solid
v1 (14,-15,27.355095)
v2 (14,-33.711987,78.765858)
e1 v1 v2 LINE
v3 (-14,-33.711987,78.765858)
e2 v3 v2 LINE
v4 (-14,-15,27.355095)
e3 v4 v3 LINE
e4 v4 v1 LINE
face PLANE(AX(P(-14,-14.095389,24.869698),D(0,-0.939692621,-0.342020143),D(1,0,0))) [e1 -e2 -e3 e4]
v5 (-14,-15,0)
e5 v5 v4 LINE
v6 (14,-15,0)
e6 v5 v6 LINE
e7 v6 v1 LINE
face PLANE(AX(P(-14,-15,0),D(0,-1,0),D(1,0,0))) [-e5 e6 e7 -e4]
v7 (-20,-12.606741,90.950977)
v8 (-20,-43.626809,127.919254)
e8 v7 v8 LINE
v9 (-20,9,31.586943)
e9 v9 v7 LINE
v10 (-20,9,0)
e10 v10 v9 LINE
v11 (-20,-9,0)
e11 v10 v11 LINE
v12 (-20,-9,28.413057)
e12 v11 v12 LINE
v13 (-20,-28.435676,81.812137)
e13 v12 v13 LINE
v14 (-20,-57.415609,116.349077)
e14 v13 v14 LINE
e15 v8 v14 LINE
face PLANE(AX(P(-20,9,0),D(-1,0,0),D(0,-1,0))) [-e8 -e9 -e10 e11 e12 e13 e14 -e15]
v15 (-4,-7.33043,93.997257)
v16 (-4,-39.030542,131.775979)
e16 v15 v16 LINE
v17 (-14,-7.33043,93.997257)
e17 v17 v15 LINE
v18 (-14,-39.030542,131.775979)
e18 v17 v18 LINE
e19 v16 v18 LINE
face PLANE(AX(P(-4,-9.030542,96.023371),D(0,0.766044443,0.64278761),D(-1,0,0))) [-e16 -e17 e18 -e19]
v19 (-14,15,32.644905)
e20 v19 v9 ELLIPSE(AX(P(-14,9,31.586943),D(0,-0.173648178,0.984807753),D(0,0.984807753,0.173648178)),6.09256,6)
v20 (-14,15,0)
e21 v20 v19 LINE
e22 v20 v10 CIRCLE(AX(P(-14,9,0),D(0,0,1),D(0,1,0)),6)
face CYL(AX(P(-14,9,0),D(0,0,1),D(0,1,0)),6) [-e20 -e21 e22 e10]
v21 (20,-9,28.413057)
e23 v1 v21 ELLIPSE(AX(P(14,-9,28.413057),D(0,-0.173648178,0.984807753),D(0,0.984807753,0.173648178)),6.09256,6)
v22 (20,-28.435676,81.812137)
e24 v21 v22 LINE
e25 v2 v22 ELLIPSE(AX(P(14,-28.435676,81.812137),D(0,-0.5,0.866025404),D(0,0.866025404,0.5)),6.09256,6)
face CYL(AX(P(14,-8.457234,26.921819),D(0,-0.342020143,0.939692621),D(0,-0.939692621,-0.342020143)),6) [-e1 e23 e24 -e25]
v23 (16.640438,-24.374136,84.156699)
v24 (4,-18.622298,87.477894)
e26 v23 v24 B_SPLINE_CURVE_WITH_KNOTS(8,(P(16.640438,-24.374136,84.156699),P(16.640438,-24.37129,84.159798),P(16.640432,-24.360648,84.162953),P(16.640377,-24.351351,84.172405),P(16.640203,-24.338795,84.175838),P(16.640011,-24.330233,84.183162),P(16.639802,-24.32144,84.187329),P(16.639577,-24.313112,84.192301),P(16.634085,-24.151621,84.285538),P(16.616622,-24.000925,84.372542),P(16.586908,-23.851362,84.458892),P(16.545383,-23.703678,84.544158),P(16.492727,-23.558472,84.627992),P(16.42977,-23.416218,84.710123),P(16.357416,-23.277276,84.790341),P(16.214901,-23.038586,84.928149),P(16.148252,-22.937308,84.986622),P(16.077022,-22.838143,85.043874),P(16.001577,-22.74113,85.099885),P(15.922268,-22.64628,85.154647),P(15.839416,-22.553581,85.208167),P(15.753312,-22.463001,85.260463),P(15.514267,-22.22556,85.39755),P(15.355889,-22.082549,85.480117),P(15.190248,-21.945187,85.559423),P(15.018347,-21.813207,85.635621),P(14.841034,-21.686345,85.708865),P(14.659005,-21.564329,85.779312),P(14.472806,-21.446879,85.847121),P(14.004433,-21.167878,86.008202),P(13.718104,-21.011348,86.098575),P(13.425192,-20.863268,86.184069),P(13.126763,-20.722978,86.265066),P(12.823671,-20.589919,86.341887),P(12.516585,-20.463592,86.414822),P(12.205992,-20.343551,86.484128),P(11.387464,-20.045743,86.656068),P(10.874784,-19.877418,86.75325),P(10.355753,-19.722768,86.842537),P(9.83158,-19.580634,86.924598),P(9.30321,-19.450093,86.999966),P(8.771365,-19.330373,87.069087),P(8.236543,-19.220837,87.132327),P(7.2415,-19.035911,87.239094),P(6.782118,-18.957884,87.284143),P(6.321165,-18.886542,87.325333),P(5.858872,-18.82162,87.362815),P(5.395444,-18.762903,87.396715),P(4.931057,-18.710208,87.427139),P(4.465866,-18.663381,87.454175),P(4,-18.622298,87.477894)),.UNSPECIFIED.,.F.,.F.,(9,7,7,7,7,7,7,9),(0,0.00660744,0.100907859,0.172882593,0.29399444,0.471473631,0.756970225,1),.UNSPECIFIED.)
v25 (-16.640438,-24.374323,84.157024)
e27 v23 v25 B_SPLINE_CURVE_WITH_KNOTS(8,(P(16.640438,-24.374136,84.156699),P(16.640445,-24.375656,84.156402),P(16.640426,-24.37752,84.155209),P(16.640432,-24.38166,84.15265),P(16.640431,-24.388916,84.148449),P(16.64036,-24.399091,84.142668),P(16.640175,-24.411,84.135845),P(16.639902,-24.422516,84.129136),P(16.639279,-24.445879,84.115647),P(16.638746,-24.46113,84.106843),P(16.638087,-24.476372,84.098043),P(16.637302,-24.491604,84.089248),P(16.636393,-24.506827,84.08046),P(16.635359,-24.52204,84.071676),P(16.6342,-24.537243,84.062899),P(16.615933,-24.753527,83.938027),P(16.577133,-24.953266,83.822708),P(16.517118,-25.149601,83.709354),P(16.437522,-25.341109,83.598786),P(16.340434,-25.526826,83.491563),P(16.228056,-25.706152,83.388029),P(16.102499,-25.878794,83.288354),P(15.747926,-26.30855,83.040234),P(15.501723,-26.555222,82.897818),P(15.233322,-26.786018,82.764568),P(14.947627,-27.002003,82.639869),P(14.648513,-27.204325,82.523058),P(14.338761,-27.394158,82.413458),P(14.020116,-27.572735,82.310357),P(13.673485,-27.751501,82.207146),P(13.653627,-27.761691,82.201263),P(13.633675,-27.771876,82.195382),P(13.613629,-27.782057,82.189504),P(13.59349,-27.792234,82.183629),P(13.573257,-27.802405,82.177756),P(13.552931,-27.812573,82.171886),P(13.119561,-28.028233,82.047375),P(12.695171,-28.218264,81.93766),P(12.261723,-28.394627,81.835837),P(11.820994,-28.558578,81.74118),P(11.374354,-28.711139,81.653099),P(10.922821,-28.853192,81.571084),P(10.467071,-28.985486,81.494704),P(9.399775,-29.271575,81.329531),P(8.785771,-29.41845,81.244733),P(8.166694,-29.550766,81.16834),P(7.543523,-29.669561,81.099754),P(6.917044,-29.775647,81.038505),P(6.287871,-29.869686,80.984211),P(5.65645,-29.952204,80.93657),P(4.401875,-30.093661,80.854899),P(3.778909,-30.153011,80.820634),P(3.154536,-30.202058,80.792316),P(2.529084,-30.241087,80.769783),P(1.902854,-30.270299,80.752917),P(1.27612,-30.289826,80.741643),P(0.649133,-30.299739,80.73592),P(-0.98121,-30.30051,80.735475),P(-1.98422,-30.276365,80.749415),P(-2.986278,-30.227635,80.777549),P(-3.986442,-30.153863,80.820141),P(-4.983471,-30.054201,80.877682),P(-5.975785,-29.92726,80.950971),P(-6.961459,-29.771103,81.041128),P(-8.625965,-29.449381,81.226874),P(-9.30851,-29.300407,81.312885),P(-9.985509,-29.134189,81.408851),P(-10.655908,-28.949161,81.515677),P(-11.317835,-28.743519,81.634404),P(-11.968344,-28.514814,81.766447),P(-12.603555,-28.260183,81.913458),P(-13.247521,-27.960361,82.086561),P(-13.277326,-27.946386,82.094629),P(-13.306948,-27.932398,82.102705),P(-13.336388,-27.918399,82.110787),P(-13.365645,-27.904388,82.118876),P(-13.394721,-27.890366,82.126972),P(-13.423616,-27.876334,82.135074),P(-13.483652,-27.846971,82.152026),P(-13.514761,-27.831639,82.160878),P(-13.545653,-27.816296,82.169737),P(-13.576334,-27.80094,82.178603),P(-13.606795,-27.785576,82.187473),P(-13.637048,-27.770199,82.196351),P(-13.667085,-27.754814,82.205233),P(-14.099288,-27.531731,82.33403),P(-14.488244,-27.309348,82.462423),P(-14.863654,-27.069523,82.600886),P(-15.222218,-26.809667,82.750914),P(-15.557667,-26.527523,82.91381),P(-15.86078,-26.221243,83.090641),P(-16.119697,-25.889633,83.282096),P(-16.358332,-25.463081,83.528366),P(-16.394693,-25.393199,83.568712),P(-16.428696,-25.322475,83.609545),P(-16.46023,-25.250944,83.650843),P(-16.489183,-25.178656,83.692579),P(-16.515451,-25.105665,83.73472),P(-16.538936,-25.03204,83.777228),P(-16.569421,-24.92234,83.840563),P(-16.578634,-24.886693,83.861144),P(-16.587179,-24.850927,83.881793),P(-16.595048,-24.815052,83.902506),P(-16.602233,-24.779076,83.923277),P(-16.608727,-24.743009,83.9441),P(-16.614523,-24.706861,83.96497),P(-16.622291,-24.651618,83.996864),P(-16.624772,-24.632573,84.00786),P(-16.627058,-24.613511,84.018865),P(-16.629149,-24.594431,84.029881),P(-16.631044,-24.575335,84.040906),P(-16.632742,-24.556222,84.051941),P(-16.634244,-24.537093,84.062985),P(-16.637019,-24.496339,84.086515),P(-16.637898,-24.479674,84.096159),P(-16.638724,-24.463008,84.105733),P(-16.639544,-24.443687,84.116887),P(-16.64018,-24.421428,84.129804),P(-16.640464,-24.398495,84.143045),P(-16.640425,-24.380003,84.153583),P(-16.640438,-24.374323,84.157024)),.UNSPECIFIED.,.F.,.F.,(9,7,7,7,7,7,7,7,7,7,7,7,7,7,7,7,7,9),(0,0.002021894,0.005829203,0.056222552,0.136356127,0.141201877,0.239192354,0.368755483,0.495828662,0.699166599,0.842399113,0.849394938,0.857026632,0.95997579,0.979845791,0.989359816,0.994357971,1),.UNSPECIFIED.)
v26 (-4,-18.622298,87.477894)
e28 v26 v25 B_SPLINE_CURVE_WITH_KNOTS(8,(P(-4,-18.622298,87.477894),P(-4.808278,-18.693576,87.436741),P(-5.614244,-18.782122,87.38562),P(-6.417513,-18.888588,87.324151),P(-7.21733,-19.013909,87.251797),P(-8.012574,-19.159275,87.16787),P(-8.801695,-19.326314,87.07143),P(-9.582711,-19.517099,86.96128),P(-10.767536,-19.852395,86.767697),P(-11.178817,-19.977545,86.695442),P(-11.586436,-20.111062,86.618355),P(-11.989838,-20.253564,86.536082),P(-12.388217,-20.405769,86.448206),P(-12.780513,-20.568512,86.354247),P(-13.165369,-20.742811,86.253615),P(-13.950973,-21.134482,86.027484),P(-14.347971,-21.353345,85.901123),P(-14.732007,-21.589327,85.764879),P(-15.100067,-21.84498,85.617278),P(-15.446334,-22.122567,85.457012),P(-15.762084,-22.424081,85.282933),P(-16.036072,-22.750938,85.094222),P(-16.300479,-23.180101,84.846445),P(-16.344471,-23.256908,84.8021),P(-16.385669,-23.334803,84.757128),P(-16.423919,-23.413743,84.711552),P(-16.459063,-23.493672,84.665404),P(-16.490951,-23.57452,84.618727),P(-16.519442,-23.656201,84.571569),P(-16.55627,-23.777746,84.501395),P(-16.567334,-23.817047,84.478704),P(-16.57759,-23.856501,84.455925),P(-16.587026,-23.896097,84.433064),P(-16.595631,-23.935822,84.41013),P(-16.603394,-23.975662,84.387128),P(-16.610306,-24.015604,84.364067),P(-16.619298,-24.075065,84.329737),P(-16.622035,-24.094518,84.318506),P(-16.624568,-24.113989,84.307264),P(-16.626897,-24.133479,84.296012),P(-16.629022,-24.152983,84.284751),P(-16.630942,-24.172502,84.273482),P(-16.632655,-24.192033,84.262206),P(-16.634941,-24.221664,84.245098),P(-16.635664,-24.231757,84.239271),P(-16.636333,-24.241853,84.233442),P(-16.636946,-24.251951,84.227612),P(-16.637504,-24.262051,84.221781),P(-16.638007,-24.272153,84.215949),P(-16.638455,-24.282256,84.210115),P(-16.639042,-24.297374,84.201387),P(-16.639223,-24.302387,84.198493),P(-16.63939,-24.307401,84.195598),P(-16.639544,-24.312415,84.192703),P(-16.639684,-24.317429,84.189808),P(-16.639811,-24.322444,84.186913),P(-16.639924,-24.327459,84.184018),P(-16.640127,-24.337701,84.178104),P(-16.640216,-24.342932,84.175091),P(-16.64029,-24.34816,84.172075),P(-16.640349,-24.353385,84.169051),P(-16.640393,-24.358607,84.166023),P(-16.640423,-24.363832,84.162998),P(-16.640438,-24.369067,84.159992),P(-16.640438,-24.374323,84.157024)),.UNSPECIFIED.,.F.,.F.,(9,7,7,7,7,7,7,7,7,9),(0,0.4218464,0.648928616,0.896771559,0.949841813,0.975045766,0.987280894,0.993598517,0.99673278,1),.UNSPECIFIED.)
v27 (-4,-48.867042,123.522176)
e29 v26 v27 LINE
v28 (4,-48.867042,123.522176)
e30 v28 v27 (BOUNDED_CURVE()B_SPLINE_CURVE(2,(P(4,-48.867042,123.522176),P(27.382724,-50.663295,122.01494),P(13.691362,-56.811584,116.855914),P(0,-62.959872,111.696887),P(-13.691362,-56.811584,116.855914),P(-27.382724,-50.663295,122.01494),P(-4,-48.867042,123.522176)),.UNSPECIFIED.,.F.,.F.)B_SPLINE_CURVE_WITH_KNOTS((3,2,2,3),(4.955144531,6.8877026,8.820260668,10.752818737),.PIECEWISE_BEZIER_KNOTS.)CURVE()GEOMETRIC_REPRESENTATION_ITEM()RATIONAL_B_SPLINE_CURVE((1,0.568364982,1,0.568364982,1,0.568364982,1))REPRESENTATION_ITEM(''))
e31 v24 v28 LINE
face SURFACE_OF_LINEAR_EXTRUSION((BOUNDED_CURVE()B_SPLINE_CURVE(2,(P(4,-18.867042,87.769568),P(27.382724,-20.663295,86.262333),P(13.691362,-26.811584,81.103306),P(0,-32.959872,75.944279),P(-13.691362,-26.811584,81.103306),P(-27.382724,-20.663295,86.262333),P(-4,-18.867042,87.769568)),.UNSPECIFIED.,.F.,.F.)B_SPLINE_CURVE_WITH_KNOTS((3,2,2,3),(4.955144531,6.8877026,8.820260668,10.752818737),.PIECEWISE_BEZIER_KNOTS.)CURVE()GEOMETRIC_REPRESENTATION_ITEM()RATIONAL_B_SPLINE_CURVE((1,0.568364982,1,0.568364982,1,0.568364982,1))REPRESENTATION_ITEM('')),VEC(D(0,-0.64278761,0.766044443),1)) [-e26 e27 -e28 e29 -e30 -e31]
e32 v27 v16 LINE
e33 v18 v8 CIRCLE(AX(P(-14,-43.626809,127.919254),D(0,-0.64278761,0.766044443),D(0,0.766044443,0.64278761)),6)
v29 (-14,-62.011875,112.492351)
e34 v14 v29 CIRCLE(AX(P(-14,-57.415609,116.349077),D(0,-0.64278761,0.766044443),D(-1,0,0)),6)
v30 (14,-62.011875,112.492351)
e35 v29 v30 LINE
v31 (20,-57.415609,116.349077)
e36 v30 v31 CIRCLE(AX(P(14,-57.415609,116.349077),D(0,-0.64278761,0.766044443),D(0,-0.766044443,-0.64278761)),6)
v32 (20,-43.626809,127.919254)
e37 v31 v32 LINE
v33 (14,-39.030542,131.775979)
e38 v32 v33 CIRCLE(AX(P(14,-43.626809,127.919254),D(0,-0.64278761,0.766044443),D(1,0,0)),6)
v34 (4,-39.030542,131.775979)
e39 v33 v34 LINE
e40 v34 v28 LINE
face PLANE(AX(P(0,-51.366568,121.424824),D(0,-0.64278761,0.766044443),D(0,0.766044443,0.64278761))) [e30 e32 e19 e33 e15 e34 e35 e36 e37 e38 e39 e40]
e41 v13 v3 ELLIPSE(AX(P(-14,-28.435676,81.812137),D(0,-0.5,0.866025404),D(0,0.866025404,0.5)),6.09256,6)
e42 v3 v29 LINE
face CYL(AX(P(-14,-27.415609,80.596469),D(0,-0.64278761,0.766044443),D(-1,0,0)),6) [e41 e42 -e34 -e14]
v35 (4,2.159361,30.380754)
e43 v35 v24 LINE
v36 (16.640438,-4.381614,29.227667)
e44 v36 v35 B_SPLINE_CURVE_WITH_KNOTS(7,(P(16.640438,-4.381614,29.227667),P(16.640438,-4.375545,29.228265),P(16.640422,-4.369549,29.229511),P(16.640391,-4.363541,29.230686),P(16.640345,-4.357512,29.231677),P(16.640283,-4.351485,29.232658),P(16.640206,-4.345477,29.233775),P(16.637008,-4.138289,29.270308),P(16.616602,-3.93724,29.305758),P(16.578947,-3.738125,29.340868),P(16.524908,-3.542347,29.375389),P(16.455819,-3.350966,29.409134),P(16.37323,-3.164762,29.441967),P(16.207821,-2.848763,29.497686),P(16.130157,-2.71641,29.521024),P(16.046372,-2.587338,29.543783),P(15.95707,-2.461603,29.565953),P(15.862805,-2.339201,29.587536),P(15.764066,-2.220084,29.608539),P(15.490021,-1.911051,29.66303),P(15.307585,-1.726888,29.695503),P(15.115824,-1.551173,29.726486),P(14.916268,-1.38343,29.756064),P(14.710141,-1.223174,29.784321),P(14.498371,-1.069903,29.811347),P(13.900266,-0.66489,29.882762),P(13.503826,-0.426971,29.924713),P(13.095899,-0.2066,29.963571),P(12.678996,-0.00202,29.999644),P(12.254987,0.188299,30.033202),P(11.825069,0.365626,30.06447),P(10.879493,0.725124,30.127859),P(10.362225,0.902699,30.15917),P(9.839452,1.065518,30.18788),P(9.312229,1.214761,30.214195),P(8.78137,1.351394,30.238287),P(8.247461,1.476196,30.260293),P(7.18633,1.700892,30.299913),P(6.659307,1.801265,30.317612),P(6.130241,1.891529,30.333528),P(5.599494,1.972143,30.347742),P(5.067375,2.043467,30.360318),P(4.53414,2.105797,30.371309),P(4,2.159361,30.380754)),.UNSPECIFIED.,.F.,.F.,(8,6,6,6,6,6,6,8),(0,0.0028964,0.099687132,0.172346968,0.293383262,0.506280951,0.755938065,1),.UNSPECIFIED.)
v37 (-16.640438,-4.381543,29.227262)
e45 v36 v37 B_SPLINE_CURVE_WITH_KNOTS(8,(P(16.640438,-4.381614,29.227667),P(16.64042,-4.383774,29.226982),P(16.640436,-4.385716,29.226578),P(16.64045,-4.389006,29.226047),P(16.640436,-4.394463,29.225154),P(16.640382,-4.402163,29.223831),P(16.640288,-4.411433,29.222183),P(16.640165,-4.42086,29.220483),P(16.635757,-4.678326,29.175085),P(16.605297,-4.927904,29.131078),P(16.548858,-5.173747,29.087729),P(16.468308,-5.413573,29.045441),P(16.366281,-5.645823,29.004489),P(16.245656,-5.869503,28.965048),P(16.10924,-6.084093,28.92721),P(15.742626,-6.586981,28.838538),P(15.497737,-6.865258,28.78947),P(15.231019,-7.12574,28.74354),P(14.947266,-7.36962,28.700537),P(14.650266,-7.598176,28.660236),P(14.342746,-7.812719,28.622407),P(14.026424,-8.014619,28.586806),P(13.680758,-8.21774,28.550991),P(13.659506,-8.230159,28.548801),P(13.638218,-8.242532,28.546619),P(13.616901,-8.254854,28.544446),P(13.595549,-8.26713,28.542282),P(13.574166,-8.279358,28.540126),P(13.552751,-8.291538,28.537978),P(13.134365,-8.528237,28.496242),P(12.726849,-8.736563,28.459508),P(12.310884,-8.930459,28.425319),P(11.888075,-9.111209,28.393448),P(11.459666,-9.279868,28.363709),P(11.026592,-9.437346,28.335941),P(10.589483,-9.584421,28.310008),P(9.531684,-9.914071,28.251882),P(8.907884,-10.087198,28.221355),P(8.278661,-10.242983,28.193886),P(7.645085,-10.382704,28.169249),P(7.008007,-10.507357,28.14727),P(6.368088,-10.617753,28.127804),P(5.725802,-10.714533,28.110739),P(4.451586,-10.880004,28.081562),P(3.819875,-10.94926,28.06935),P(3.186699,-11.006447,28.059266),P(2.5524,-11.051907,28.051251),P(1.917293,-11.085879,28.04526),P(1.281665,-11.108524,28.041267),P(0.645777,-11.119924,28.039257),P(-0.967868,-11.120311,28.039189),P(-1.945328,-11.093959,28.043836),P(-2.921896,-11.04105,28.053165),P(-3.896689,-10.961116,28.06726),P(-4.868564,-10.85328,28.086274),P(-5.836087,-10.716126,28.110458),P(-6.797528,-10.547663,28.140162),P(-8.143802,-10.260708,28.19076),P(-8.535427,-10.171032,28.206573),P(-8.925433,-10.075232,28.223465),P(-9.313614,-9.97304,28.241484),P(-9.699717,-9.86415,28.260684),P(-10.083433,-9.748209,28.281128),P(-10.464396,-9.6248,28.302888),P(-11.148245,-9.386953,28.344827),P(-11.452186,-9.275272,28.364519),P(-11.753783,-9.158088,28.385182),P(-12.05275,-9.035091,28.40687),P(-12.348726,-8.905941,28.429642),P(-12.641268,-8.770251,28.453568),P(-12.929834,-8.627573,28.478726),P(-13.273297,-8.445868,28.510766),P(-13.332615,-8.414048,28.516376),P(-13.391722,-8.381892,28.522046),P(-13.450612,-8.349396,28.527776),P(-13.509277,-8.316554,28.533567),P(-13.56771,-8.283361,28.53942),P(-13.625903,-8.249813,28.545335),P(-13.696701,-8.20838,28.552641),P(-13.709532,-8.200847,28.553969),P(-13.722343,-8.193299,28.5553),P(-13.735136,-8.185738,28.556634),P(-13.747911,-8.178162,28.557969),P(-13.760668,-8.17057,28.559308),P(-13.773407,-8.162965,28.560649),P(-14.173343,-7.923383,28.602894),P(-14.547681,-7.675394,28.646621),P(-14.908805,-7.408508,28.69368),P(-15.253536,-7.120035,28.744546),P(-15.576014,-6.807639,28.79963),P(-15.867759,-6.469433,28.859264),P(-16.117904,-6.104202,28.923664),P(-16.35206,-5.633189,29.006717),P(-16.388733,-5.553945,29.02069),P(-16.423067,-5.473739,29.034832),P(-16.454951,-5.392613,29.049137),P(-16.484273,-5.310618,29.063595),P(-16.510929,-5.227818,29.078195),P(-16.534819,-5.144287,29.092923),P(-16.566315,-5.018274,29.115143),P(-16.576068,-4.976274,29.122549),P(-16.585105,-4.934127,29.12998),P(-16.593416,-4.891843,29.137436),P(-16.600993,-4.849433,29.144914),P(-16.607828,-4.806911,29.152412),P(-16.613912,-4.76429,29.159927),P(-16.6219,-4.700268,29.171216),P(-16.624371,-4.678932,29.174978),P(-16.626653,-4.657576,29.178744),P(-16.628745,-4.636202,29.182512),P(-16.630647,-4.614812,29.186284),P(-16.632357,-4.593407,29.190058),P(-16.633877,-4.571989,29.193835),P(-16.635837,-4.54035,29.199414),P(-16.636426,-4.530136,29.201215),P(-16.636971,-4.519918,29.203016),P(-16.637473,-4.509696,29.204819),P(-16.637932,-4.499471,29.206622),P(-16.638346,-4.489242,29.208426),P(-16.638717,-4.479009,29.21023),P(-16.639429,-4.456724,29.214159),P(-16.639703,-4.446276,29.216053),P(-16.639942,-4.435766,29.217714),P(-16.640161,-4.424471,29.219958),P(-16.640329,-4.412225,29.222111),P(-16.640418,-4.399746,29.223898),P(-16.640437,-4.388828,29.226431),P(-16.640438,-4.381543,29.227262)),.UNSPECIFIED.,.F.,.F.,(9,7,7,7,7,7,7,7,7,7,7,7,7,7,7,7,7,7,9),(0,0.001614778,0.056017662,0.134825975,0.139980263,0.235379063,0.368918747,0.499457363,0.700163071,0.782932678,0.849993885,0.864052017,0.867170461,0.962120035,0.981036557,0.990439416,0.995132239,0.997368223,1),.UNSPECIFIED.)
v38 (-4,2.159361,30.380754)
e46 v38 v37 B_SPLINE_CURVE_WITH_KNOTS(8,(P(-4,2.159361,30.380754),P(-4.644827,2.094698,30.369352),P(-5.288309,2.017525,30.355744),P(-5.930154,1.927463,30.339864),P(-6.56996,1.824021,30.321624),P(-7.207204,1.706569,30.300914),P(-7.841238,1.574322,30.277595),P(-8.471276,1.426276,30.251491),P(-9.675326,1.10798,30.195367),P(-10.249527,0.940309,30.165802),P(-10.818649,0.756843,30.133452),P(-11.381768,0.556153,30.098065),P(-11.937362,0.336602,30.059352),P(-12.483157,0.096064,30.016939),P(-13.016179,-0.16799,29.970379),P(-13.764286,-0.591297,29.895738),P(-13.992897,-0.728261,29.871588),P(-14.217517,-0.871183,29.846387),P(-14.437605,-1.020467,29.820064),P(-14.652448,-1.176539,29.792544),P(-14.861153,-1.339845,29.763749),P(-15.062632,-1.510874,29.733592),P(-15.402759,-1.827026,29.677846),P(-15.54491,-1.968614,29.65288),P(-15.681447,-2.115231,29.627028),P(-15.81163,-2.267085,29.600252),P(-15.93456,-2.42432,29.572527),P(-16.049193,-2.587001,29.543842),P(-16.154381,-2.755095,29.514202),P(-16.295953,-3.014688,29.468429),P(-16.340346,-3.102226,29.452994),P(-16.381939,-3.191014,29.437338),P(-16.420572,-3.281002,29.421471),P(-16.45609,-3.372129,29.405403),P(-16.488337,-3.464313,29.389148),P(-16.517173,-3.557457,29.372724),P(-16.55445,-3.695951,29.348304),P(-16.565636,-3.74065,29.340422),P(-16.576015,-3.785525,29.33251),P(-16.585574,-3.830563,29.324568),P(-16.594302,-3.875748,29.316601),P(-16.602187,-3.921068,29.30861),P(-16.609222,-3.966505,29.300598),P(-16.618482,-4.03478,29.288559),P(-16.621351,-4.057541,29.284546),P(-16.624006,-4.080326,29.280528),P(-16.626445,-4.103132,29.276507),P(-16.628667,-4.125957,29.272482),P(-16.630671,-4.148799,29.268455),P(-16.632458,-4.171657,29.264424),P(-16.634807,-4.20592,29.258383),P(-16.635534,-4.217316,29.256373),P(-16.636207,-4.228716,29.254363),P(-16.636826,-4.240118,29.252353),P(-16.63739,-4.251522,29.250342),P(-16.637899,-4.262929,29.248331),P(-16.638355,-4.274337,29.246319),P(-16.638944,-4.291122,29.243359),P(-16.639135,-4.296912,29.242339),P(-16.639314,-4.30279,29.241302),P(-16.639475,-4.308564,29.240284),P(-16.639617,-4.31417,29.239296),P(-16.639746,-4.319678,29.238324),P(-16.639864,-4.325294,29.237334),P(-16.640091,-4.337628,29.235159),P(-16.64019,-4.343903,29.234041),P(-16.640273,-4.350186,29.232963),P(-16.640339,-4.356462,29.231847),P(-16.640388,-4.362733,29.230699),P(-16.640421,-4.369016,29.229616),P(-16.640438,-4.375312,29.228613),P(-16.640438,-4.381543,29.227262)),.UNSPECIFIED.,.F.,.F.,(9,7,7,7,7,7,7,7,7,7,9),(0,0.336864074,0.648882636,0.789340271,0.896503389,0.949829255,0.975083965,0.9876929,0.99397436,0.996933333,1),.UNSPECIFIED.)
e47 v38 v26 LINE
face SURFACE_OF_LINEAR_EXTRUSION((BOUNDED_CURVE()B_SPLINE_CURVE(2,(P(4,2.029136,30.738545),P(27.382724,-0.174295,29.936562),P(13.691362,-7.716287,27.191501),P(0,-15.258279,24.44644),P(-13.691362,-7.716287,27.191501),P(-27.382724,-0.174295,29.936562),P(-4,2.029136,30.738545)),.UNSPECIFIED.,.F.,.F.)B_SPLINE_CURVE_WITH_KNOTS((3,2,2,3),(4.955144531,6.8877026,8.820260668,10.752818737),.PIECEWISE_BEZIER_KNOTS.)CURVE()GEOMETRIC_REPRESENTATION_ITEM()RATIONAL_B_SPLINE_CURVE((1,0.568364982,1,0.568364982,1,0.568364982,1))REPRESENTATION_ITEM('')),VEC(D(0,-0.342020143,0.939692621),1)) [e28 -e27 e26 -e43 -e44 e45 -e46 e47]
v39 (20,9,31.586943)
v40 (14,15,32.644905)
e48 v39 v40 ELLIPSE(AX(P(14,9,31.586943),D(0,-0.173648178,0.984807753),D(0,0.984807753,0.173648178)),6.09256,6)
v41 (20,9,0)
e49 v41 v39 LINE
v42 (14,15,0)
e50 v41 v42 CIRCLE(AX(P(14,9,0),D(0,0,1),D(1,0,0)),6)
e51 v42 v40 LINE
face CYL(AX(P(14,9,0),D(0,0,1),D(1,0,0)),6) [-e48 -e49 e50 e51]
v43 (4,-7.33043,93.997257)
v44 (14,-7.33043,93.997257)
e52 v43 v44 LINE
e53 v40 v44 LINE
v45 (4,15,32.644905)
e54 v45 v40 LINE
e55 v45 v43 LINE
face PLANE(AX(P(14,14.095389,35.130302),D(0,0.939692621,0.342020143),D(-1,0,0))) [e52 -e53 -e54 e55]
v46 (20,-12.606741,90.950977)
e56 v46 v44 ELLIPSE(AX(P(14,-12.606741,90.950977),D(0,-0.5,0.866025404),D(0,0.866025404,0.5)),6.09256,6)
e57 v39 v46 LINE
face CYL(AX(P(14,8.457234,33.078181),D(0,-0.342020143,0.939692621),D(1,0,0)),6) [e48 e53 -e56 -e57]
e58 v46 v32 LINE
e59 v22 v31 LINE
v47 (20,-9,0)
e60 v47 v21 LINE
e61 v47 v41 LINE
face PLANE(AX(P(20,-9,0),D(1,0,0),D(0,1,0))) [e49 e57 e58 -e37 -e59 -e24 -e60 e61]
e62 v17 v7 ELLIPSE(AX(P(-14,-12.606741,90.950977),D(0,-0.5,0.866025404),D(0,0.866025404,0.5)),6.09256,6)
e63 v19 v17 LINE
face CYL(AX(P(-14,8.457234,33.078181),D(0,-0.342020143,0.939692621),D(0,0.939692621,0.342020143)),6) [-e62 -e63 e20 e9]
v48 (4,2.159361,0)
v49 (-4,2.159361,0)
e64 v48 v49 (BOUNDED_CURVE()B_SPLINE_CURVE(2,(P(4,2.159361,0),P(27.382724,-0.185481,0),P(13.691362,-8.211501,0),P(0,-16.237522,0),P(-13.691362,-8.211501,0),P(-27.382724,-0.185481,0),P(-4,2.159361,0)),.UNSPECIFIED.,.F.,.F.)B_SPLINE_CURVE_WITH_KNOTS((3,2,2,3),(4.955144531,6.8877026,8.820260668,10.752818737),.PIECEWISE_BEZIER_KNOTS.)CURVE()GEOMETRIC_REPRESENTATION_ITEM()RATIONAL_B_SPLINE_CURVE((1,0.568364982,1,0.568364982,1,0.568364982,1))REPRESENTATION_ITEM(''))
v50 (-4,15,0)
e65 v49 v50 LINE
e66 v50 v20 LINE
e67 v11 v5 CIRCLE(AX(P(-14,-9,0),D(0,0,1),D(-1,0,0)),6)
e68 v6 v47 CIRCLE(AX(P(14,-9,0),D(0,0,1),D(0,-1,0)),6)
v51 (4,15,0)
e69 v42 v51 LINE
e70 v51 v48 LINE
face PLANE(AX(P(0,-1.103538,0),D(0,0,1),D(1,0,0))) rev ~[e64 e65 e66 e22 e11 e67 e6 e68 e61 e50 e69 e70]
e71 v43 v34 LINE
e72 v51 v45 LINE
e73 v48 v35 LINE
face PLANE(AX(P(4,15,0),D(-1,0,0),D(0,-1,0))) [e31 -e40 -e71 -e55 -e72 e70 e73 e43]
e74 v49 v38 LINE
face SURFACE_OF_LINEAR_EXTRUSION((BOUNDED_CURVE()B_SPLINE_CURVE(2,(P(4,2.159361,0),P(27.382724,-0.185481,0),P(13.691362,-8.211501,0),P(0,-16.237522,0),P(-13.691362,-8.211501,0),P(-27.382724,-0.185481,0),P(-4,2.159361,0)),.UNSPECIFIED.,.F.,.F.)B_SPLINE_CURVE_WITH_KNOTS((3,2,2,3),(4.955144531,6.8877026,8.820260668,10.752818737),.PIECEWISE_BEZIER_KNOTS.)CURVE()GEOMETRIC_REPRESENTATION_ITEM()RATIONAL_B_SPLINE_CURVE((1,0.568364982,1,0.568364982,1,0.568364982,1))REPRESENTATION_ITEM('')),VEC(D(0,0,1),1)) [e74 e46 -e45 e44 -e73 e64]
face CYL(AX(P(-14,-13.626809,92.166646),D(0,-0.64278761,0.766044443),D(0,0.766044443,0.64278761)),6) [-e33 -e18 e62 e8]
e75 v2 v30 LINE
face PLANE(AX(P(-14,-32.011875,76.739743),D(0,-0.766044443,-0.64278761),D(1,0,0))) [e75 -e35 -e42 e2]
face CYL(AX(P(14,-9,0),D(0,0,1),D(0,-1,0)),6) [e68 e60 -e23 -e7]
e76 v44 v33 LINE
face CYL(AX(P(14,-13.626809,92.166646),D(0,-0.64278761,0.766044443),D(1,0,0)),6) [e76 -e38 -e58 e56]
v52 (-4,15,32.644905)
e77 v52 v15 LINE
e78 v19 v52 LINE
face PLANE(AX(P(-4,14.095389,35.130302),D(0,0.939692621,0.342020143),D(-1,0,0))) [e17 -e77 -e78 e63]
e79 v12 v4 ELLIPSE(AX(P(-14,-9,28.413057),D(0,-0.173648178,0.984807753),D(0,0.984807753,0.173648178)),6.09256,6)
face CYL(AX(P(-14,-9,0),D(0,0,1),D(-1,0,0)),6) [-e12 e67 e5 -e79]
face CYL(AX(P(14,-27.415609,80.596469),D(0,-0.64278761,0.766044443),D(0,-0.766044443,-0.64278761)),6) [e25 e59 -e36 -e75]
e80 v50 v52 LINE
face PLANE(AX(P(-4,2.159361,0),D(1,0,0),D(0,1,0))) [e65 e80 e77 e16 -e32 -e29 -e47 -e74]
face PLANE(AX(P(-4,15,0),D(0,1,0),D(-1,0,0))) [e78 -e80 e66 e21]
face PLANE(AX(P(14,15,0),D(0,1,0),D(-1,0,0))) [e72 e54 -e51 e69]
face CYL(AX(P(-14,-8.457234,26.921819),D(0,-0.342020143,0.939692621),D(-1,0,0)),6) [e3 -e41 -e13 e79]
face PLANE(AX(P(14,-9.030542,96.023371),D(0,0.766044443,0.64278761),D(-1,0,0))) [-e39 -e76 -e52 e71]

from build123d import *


with BuildPart() as f2:
    # F2: sweep along a path in F1
    with BuildLine(Plane.YZ) as f2_path:
        Line((0, 0), (0, 30))
        Line((0, 30), (-20.5212085995, 86.3815572472))
        Line((-20.5212085995, 86.3815572472), (-50.5212085995, 122.134165025))
    # F0 (on Top) → F2 (sweep)
    with BuildSketch(Plane.XY):
        with BuildLine():
            Line((-14, -15), (14, -15))
            ThreePointArc((14, -15), (18.2426406871, -13.2426406871), (20, -9))
            Line((20, -9), (20, 9))
            ThreePointArc((20, 9), (18.2426406871, 13.2426406871), (14, 15))
            Line((14, 15), (4, 15))
            Line((4, 15), (4, 2.1593614055))
            add(Edge.make_bspline(
                [(-4, 2.1593614055), (-27.382723871, -0.1854807252), (-13.6913619355, -8.2115012982), (0, -16.2375218712), (13.6913619355, -8.2115012982), (27.382723871, -0.1854807252), (4, 2.1593614055)],
                knots=[4.9551445309, 4.9551445309, 4.9551445309, 6.8877025996, 6.8877025996, 8.8202606683, 8.8202606683, 10.752818737, 10.752818737, 10.752818737], degree=2, weights=[1, 0.568364982, 1, 0.568364982, 1, 0.568364982, 1]))
            Line((-4, 2.1593614055), (-4, 15))
            Line((-4, 15), (-14, 15))
            ThreePointArc((-14, 15), (-18.2426406871, 13.2426406871), (-20, 9))
            Line((-20, 9), (-20, -9))
            ThreePointArc((-20, -9), (-18.2426406871, -13.2426406871), (-14, -15))
        make_face()
    sweep(path=f2_path.line, transition=Transition.RIGHT)


solid = f2.part
